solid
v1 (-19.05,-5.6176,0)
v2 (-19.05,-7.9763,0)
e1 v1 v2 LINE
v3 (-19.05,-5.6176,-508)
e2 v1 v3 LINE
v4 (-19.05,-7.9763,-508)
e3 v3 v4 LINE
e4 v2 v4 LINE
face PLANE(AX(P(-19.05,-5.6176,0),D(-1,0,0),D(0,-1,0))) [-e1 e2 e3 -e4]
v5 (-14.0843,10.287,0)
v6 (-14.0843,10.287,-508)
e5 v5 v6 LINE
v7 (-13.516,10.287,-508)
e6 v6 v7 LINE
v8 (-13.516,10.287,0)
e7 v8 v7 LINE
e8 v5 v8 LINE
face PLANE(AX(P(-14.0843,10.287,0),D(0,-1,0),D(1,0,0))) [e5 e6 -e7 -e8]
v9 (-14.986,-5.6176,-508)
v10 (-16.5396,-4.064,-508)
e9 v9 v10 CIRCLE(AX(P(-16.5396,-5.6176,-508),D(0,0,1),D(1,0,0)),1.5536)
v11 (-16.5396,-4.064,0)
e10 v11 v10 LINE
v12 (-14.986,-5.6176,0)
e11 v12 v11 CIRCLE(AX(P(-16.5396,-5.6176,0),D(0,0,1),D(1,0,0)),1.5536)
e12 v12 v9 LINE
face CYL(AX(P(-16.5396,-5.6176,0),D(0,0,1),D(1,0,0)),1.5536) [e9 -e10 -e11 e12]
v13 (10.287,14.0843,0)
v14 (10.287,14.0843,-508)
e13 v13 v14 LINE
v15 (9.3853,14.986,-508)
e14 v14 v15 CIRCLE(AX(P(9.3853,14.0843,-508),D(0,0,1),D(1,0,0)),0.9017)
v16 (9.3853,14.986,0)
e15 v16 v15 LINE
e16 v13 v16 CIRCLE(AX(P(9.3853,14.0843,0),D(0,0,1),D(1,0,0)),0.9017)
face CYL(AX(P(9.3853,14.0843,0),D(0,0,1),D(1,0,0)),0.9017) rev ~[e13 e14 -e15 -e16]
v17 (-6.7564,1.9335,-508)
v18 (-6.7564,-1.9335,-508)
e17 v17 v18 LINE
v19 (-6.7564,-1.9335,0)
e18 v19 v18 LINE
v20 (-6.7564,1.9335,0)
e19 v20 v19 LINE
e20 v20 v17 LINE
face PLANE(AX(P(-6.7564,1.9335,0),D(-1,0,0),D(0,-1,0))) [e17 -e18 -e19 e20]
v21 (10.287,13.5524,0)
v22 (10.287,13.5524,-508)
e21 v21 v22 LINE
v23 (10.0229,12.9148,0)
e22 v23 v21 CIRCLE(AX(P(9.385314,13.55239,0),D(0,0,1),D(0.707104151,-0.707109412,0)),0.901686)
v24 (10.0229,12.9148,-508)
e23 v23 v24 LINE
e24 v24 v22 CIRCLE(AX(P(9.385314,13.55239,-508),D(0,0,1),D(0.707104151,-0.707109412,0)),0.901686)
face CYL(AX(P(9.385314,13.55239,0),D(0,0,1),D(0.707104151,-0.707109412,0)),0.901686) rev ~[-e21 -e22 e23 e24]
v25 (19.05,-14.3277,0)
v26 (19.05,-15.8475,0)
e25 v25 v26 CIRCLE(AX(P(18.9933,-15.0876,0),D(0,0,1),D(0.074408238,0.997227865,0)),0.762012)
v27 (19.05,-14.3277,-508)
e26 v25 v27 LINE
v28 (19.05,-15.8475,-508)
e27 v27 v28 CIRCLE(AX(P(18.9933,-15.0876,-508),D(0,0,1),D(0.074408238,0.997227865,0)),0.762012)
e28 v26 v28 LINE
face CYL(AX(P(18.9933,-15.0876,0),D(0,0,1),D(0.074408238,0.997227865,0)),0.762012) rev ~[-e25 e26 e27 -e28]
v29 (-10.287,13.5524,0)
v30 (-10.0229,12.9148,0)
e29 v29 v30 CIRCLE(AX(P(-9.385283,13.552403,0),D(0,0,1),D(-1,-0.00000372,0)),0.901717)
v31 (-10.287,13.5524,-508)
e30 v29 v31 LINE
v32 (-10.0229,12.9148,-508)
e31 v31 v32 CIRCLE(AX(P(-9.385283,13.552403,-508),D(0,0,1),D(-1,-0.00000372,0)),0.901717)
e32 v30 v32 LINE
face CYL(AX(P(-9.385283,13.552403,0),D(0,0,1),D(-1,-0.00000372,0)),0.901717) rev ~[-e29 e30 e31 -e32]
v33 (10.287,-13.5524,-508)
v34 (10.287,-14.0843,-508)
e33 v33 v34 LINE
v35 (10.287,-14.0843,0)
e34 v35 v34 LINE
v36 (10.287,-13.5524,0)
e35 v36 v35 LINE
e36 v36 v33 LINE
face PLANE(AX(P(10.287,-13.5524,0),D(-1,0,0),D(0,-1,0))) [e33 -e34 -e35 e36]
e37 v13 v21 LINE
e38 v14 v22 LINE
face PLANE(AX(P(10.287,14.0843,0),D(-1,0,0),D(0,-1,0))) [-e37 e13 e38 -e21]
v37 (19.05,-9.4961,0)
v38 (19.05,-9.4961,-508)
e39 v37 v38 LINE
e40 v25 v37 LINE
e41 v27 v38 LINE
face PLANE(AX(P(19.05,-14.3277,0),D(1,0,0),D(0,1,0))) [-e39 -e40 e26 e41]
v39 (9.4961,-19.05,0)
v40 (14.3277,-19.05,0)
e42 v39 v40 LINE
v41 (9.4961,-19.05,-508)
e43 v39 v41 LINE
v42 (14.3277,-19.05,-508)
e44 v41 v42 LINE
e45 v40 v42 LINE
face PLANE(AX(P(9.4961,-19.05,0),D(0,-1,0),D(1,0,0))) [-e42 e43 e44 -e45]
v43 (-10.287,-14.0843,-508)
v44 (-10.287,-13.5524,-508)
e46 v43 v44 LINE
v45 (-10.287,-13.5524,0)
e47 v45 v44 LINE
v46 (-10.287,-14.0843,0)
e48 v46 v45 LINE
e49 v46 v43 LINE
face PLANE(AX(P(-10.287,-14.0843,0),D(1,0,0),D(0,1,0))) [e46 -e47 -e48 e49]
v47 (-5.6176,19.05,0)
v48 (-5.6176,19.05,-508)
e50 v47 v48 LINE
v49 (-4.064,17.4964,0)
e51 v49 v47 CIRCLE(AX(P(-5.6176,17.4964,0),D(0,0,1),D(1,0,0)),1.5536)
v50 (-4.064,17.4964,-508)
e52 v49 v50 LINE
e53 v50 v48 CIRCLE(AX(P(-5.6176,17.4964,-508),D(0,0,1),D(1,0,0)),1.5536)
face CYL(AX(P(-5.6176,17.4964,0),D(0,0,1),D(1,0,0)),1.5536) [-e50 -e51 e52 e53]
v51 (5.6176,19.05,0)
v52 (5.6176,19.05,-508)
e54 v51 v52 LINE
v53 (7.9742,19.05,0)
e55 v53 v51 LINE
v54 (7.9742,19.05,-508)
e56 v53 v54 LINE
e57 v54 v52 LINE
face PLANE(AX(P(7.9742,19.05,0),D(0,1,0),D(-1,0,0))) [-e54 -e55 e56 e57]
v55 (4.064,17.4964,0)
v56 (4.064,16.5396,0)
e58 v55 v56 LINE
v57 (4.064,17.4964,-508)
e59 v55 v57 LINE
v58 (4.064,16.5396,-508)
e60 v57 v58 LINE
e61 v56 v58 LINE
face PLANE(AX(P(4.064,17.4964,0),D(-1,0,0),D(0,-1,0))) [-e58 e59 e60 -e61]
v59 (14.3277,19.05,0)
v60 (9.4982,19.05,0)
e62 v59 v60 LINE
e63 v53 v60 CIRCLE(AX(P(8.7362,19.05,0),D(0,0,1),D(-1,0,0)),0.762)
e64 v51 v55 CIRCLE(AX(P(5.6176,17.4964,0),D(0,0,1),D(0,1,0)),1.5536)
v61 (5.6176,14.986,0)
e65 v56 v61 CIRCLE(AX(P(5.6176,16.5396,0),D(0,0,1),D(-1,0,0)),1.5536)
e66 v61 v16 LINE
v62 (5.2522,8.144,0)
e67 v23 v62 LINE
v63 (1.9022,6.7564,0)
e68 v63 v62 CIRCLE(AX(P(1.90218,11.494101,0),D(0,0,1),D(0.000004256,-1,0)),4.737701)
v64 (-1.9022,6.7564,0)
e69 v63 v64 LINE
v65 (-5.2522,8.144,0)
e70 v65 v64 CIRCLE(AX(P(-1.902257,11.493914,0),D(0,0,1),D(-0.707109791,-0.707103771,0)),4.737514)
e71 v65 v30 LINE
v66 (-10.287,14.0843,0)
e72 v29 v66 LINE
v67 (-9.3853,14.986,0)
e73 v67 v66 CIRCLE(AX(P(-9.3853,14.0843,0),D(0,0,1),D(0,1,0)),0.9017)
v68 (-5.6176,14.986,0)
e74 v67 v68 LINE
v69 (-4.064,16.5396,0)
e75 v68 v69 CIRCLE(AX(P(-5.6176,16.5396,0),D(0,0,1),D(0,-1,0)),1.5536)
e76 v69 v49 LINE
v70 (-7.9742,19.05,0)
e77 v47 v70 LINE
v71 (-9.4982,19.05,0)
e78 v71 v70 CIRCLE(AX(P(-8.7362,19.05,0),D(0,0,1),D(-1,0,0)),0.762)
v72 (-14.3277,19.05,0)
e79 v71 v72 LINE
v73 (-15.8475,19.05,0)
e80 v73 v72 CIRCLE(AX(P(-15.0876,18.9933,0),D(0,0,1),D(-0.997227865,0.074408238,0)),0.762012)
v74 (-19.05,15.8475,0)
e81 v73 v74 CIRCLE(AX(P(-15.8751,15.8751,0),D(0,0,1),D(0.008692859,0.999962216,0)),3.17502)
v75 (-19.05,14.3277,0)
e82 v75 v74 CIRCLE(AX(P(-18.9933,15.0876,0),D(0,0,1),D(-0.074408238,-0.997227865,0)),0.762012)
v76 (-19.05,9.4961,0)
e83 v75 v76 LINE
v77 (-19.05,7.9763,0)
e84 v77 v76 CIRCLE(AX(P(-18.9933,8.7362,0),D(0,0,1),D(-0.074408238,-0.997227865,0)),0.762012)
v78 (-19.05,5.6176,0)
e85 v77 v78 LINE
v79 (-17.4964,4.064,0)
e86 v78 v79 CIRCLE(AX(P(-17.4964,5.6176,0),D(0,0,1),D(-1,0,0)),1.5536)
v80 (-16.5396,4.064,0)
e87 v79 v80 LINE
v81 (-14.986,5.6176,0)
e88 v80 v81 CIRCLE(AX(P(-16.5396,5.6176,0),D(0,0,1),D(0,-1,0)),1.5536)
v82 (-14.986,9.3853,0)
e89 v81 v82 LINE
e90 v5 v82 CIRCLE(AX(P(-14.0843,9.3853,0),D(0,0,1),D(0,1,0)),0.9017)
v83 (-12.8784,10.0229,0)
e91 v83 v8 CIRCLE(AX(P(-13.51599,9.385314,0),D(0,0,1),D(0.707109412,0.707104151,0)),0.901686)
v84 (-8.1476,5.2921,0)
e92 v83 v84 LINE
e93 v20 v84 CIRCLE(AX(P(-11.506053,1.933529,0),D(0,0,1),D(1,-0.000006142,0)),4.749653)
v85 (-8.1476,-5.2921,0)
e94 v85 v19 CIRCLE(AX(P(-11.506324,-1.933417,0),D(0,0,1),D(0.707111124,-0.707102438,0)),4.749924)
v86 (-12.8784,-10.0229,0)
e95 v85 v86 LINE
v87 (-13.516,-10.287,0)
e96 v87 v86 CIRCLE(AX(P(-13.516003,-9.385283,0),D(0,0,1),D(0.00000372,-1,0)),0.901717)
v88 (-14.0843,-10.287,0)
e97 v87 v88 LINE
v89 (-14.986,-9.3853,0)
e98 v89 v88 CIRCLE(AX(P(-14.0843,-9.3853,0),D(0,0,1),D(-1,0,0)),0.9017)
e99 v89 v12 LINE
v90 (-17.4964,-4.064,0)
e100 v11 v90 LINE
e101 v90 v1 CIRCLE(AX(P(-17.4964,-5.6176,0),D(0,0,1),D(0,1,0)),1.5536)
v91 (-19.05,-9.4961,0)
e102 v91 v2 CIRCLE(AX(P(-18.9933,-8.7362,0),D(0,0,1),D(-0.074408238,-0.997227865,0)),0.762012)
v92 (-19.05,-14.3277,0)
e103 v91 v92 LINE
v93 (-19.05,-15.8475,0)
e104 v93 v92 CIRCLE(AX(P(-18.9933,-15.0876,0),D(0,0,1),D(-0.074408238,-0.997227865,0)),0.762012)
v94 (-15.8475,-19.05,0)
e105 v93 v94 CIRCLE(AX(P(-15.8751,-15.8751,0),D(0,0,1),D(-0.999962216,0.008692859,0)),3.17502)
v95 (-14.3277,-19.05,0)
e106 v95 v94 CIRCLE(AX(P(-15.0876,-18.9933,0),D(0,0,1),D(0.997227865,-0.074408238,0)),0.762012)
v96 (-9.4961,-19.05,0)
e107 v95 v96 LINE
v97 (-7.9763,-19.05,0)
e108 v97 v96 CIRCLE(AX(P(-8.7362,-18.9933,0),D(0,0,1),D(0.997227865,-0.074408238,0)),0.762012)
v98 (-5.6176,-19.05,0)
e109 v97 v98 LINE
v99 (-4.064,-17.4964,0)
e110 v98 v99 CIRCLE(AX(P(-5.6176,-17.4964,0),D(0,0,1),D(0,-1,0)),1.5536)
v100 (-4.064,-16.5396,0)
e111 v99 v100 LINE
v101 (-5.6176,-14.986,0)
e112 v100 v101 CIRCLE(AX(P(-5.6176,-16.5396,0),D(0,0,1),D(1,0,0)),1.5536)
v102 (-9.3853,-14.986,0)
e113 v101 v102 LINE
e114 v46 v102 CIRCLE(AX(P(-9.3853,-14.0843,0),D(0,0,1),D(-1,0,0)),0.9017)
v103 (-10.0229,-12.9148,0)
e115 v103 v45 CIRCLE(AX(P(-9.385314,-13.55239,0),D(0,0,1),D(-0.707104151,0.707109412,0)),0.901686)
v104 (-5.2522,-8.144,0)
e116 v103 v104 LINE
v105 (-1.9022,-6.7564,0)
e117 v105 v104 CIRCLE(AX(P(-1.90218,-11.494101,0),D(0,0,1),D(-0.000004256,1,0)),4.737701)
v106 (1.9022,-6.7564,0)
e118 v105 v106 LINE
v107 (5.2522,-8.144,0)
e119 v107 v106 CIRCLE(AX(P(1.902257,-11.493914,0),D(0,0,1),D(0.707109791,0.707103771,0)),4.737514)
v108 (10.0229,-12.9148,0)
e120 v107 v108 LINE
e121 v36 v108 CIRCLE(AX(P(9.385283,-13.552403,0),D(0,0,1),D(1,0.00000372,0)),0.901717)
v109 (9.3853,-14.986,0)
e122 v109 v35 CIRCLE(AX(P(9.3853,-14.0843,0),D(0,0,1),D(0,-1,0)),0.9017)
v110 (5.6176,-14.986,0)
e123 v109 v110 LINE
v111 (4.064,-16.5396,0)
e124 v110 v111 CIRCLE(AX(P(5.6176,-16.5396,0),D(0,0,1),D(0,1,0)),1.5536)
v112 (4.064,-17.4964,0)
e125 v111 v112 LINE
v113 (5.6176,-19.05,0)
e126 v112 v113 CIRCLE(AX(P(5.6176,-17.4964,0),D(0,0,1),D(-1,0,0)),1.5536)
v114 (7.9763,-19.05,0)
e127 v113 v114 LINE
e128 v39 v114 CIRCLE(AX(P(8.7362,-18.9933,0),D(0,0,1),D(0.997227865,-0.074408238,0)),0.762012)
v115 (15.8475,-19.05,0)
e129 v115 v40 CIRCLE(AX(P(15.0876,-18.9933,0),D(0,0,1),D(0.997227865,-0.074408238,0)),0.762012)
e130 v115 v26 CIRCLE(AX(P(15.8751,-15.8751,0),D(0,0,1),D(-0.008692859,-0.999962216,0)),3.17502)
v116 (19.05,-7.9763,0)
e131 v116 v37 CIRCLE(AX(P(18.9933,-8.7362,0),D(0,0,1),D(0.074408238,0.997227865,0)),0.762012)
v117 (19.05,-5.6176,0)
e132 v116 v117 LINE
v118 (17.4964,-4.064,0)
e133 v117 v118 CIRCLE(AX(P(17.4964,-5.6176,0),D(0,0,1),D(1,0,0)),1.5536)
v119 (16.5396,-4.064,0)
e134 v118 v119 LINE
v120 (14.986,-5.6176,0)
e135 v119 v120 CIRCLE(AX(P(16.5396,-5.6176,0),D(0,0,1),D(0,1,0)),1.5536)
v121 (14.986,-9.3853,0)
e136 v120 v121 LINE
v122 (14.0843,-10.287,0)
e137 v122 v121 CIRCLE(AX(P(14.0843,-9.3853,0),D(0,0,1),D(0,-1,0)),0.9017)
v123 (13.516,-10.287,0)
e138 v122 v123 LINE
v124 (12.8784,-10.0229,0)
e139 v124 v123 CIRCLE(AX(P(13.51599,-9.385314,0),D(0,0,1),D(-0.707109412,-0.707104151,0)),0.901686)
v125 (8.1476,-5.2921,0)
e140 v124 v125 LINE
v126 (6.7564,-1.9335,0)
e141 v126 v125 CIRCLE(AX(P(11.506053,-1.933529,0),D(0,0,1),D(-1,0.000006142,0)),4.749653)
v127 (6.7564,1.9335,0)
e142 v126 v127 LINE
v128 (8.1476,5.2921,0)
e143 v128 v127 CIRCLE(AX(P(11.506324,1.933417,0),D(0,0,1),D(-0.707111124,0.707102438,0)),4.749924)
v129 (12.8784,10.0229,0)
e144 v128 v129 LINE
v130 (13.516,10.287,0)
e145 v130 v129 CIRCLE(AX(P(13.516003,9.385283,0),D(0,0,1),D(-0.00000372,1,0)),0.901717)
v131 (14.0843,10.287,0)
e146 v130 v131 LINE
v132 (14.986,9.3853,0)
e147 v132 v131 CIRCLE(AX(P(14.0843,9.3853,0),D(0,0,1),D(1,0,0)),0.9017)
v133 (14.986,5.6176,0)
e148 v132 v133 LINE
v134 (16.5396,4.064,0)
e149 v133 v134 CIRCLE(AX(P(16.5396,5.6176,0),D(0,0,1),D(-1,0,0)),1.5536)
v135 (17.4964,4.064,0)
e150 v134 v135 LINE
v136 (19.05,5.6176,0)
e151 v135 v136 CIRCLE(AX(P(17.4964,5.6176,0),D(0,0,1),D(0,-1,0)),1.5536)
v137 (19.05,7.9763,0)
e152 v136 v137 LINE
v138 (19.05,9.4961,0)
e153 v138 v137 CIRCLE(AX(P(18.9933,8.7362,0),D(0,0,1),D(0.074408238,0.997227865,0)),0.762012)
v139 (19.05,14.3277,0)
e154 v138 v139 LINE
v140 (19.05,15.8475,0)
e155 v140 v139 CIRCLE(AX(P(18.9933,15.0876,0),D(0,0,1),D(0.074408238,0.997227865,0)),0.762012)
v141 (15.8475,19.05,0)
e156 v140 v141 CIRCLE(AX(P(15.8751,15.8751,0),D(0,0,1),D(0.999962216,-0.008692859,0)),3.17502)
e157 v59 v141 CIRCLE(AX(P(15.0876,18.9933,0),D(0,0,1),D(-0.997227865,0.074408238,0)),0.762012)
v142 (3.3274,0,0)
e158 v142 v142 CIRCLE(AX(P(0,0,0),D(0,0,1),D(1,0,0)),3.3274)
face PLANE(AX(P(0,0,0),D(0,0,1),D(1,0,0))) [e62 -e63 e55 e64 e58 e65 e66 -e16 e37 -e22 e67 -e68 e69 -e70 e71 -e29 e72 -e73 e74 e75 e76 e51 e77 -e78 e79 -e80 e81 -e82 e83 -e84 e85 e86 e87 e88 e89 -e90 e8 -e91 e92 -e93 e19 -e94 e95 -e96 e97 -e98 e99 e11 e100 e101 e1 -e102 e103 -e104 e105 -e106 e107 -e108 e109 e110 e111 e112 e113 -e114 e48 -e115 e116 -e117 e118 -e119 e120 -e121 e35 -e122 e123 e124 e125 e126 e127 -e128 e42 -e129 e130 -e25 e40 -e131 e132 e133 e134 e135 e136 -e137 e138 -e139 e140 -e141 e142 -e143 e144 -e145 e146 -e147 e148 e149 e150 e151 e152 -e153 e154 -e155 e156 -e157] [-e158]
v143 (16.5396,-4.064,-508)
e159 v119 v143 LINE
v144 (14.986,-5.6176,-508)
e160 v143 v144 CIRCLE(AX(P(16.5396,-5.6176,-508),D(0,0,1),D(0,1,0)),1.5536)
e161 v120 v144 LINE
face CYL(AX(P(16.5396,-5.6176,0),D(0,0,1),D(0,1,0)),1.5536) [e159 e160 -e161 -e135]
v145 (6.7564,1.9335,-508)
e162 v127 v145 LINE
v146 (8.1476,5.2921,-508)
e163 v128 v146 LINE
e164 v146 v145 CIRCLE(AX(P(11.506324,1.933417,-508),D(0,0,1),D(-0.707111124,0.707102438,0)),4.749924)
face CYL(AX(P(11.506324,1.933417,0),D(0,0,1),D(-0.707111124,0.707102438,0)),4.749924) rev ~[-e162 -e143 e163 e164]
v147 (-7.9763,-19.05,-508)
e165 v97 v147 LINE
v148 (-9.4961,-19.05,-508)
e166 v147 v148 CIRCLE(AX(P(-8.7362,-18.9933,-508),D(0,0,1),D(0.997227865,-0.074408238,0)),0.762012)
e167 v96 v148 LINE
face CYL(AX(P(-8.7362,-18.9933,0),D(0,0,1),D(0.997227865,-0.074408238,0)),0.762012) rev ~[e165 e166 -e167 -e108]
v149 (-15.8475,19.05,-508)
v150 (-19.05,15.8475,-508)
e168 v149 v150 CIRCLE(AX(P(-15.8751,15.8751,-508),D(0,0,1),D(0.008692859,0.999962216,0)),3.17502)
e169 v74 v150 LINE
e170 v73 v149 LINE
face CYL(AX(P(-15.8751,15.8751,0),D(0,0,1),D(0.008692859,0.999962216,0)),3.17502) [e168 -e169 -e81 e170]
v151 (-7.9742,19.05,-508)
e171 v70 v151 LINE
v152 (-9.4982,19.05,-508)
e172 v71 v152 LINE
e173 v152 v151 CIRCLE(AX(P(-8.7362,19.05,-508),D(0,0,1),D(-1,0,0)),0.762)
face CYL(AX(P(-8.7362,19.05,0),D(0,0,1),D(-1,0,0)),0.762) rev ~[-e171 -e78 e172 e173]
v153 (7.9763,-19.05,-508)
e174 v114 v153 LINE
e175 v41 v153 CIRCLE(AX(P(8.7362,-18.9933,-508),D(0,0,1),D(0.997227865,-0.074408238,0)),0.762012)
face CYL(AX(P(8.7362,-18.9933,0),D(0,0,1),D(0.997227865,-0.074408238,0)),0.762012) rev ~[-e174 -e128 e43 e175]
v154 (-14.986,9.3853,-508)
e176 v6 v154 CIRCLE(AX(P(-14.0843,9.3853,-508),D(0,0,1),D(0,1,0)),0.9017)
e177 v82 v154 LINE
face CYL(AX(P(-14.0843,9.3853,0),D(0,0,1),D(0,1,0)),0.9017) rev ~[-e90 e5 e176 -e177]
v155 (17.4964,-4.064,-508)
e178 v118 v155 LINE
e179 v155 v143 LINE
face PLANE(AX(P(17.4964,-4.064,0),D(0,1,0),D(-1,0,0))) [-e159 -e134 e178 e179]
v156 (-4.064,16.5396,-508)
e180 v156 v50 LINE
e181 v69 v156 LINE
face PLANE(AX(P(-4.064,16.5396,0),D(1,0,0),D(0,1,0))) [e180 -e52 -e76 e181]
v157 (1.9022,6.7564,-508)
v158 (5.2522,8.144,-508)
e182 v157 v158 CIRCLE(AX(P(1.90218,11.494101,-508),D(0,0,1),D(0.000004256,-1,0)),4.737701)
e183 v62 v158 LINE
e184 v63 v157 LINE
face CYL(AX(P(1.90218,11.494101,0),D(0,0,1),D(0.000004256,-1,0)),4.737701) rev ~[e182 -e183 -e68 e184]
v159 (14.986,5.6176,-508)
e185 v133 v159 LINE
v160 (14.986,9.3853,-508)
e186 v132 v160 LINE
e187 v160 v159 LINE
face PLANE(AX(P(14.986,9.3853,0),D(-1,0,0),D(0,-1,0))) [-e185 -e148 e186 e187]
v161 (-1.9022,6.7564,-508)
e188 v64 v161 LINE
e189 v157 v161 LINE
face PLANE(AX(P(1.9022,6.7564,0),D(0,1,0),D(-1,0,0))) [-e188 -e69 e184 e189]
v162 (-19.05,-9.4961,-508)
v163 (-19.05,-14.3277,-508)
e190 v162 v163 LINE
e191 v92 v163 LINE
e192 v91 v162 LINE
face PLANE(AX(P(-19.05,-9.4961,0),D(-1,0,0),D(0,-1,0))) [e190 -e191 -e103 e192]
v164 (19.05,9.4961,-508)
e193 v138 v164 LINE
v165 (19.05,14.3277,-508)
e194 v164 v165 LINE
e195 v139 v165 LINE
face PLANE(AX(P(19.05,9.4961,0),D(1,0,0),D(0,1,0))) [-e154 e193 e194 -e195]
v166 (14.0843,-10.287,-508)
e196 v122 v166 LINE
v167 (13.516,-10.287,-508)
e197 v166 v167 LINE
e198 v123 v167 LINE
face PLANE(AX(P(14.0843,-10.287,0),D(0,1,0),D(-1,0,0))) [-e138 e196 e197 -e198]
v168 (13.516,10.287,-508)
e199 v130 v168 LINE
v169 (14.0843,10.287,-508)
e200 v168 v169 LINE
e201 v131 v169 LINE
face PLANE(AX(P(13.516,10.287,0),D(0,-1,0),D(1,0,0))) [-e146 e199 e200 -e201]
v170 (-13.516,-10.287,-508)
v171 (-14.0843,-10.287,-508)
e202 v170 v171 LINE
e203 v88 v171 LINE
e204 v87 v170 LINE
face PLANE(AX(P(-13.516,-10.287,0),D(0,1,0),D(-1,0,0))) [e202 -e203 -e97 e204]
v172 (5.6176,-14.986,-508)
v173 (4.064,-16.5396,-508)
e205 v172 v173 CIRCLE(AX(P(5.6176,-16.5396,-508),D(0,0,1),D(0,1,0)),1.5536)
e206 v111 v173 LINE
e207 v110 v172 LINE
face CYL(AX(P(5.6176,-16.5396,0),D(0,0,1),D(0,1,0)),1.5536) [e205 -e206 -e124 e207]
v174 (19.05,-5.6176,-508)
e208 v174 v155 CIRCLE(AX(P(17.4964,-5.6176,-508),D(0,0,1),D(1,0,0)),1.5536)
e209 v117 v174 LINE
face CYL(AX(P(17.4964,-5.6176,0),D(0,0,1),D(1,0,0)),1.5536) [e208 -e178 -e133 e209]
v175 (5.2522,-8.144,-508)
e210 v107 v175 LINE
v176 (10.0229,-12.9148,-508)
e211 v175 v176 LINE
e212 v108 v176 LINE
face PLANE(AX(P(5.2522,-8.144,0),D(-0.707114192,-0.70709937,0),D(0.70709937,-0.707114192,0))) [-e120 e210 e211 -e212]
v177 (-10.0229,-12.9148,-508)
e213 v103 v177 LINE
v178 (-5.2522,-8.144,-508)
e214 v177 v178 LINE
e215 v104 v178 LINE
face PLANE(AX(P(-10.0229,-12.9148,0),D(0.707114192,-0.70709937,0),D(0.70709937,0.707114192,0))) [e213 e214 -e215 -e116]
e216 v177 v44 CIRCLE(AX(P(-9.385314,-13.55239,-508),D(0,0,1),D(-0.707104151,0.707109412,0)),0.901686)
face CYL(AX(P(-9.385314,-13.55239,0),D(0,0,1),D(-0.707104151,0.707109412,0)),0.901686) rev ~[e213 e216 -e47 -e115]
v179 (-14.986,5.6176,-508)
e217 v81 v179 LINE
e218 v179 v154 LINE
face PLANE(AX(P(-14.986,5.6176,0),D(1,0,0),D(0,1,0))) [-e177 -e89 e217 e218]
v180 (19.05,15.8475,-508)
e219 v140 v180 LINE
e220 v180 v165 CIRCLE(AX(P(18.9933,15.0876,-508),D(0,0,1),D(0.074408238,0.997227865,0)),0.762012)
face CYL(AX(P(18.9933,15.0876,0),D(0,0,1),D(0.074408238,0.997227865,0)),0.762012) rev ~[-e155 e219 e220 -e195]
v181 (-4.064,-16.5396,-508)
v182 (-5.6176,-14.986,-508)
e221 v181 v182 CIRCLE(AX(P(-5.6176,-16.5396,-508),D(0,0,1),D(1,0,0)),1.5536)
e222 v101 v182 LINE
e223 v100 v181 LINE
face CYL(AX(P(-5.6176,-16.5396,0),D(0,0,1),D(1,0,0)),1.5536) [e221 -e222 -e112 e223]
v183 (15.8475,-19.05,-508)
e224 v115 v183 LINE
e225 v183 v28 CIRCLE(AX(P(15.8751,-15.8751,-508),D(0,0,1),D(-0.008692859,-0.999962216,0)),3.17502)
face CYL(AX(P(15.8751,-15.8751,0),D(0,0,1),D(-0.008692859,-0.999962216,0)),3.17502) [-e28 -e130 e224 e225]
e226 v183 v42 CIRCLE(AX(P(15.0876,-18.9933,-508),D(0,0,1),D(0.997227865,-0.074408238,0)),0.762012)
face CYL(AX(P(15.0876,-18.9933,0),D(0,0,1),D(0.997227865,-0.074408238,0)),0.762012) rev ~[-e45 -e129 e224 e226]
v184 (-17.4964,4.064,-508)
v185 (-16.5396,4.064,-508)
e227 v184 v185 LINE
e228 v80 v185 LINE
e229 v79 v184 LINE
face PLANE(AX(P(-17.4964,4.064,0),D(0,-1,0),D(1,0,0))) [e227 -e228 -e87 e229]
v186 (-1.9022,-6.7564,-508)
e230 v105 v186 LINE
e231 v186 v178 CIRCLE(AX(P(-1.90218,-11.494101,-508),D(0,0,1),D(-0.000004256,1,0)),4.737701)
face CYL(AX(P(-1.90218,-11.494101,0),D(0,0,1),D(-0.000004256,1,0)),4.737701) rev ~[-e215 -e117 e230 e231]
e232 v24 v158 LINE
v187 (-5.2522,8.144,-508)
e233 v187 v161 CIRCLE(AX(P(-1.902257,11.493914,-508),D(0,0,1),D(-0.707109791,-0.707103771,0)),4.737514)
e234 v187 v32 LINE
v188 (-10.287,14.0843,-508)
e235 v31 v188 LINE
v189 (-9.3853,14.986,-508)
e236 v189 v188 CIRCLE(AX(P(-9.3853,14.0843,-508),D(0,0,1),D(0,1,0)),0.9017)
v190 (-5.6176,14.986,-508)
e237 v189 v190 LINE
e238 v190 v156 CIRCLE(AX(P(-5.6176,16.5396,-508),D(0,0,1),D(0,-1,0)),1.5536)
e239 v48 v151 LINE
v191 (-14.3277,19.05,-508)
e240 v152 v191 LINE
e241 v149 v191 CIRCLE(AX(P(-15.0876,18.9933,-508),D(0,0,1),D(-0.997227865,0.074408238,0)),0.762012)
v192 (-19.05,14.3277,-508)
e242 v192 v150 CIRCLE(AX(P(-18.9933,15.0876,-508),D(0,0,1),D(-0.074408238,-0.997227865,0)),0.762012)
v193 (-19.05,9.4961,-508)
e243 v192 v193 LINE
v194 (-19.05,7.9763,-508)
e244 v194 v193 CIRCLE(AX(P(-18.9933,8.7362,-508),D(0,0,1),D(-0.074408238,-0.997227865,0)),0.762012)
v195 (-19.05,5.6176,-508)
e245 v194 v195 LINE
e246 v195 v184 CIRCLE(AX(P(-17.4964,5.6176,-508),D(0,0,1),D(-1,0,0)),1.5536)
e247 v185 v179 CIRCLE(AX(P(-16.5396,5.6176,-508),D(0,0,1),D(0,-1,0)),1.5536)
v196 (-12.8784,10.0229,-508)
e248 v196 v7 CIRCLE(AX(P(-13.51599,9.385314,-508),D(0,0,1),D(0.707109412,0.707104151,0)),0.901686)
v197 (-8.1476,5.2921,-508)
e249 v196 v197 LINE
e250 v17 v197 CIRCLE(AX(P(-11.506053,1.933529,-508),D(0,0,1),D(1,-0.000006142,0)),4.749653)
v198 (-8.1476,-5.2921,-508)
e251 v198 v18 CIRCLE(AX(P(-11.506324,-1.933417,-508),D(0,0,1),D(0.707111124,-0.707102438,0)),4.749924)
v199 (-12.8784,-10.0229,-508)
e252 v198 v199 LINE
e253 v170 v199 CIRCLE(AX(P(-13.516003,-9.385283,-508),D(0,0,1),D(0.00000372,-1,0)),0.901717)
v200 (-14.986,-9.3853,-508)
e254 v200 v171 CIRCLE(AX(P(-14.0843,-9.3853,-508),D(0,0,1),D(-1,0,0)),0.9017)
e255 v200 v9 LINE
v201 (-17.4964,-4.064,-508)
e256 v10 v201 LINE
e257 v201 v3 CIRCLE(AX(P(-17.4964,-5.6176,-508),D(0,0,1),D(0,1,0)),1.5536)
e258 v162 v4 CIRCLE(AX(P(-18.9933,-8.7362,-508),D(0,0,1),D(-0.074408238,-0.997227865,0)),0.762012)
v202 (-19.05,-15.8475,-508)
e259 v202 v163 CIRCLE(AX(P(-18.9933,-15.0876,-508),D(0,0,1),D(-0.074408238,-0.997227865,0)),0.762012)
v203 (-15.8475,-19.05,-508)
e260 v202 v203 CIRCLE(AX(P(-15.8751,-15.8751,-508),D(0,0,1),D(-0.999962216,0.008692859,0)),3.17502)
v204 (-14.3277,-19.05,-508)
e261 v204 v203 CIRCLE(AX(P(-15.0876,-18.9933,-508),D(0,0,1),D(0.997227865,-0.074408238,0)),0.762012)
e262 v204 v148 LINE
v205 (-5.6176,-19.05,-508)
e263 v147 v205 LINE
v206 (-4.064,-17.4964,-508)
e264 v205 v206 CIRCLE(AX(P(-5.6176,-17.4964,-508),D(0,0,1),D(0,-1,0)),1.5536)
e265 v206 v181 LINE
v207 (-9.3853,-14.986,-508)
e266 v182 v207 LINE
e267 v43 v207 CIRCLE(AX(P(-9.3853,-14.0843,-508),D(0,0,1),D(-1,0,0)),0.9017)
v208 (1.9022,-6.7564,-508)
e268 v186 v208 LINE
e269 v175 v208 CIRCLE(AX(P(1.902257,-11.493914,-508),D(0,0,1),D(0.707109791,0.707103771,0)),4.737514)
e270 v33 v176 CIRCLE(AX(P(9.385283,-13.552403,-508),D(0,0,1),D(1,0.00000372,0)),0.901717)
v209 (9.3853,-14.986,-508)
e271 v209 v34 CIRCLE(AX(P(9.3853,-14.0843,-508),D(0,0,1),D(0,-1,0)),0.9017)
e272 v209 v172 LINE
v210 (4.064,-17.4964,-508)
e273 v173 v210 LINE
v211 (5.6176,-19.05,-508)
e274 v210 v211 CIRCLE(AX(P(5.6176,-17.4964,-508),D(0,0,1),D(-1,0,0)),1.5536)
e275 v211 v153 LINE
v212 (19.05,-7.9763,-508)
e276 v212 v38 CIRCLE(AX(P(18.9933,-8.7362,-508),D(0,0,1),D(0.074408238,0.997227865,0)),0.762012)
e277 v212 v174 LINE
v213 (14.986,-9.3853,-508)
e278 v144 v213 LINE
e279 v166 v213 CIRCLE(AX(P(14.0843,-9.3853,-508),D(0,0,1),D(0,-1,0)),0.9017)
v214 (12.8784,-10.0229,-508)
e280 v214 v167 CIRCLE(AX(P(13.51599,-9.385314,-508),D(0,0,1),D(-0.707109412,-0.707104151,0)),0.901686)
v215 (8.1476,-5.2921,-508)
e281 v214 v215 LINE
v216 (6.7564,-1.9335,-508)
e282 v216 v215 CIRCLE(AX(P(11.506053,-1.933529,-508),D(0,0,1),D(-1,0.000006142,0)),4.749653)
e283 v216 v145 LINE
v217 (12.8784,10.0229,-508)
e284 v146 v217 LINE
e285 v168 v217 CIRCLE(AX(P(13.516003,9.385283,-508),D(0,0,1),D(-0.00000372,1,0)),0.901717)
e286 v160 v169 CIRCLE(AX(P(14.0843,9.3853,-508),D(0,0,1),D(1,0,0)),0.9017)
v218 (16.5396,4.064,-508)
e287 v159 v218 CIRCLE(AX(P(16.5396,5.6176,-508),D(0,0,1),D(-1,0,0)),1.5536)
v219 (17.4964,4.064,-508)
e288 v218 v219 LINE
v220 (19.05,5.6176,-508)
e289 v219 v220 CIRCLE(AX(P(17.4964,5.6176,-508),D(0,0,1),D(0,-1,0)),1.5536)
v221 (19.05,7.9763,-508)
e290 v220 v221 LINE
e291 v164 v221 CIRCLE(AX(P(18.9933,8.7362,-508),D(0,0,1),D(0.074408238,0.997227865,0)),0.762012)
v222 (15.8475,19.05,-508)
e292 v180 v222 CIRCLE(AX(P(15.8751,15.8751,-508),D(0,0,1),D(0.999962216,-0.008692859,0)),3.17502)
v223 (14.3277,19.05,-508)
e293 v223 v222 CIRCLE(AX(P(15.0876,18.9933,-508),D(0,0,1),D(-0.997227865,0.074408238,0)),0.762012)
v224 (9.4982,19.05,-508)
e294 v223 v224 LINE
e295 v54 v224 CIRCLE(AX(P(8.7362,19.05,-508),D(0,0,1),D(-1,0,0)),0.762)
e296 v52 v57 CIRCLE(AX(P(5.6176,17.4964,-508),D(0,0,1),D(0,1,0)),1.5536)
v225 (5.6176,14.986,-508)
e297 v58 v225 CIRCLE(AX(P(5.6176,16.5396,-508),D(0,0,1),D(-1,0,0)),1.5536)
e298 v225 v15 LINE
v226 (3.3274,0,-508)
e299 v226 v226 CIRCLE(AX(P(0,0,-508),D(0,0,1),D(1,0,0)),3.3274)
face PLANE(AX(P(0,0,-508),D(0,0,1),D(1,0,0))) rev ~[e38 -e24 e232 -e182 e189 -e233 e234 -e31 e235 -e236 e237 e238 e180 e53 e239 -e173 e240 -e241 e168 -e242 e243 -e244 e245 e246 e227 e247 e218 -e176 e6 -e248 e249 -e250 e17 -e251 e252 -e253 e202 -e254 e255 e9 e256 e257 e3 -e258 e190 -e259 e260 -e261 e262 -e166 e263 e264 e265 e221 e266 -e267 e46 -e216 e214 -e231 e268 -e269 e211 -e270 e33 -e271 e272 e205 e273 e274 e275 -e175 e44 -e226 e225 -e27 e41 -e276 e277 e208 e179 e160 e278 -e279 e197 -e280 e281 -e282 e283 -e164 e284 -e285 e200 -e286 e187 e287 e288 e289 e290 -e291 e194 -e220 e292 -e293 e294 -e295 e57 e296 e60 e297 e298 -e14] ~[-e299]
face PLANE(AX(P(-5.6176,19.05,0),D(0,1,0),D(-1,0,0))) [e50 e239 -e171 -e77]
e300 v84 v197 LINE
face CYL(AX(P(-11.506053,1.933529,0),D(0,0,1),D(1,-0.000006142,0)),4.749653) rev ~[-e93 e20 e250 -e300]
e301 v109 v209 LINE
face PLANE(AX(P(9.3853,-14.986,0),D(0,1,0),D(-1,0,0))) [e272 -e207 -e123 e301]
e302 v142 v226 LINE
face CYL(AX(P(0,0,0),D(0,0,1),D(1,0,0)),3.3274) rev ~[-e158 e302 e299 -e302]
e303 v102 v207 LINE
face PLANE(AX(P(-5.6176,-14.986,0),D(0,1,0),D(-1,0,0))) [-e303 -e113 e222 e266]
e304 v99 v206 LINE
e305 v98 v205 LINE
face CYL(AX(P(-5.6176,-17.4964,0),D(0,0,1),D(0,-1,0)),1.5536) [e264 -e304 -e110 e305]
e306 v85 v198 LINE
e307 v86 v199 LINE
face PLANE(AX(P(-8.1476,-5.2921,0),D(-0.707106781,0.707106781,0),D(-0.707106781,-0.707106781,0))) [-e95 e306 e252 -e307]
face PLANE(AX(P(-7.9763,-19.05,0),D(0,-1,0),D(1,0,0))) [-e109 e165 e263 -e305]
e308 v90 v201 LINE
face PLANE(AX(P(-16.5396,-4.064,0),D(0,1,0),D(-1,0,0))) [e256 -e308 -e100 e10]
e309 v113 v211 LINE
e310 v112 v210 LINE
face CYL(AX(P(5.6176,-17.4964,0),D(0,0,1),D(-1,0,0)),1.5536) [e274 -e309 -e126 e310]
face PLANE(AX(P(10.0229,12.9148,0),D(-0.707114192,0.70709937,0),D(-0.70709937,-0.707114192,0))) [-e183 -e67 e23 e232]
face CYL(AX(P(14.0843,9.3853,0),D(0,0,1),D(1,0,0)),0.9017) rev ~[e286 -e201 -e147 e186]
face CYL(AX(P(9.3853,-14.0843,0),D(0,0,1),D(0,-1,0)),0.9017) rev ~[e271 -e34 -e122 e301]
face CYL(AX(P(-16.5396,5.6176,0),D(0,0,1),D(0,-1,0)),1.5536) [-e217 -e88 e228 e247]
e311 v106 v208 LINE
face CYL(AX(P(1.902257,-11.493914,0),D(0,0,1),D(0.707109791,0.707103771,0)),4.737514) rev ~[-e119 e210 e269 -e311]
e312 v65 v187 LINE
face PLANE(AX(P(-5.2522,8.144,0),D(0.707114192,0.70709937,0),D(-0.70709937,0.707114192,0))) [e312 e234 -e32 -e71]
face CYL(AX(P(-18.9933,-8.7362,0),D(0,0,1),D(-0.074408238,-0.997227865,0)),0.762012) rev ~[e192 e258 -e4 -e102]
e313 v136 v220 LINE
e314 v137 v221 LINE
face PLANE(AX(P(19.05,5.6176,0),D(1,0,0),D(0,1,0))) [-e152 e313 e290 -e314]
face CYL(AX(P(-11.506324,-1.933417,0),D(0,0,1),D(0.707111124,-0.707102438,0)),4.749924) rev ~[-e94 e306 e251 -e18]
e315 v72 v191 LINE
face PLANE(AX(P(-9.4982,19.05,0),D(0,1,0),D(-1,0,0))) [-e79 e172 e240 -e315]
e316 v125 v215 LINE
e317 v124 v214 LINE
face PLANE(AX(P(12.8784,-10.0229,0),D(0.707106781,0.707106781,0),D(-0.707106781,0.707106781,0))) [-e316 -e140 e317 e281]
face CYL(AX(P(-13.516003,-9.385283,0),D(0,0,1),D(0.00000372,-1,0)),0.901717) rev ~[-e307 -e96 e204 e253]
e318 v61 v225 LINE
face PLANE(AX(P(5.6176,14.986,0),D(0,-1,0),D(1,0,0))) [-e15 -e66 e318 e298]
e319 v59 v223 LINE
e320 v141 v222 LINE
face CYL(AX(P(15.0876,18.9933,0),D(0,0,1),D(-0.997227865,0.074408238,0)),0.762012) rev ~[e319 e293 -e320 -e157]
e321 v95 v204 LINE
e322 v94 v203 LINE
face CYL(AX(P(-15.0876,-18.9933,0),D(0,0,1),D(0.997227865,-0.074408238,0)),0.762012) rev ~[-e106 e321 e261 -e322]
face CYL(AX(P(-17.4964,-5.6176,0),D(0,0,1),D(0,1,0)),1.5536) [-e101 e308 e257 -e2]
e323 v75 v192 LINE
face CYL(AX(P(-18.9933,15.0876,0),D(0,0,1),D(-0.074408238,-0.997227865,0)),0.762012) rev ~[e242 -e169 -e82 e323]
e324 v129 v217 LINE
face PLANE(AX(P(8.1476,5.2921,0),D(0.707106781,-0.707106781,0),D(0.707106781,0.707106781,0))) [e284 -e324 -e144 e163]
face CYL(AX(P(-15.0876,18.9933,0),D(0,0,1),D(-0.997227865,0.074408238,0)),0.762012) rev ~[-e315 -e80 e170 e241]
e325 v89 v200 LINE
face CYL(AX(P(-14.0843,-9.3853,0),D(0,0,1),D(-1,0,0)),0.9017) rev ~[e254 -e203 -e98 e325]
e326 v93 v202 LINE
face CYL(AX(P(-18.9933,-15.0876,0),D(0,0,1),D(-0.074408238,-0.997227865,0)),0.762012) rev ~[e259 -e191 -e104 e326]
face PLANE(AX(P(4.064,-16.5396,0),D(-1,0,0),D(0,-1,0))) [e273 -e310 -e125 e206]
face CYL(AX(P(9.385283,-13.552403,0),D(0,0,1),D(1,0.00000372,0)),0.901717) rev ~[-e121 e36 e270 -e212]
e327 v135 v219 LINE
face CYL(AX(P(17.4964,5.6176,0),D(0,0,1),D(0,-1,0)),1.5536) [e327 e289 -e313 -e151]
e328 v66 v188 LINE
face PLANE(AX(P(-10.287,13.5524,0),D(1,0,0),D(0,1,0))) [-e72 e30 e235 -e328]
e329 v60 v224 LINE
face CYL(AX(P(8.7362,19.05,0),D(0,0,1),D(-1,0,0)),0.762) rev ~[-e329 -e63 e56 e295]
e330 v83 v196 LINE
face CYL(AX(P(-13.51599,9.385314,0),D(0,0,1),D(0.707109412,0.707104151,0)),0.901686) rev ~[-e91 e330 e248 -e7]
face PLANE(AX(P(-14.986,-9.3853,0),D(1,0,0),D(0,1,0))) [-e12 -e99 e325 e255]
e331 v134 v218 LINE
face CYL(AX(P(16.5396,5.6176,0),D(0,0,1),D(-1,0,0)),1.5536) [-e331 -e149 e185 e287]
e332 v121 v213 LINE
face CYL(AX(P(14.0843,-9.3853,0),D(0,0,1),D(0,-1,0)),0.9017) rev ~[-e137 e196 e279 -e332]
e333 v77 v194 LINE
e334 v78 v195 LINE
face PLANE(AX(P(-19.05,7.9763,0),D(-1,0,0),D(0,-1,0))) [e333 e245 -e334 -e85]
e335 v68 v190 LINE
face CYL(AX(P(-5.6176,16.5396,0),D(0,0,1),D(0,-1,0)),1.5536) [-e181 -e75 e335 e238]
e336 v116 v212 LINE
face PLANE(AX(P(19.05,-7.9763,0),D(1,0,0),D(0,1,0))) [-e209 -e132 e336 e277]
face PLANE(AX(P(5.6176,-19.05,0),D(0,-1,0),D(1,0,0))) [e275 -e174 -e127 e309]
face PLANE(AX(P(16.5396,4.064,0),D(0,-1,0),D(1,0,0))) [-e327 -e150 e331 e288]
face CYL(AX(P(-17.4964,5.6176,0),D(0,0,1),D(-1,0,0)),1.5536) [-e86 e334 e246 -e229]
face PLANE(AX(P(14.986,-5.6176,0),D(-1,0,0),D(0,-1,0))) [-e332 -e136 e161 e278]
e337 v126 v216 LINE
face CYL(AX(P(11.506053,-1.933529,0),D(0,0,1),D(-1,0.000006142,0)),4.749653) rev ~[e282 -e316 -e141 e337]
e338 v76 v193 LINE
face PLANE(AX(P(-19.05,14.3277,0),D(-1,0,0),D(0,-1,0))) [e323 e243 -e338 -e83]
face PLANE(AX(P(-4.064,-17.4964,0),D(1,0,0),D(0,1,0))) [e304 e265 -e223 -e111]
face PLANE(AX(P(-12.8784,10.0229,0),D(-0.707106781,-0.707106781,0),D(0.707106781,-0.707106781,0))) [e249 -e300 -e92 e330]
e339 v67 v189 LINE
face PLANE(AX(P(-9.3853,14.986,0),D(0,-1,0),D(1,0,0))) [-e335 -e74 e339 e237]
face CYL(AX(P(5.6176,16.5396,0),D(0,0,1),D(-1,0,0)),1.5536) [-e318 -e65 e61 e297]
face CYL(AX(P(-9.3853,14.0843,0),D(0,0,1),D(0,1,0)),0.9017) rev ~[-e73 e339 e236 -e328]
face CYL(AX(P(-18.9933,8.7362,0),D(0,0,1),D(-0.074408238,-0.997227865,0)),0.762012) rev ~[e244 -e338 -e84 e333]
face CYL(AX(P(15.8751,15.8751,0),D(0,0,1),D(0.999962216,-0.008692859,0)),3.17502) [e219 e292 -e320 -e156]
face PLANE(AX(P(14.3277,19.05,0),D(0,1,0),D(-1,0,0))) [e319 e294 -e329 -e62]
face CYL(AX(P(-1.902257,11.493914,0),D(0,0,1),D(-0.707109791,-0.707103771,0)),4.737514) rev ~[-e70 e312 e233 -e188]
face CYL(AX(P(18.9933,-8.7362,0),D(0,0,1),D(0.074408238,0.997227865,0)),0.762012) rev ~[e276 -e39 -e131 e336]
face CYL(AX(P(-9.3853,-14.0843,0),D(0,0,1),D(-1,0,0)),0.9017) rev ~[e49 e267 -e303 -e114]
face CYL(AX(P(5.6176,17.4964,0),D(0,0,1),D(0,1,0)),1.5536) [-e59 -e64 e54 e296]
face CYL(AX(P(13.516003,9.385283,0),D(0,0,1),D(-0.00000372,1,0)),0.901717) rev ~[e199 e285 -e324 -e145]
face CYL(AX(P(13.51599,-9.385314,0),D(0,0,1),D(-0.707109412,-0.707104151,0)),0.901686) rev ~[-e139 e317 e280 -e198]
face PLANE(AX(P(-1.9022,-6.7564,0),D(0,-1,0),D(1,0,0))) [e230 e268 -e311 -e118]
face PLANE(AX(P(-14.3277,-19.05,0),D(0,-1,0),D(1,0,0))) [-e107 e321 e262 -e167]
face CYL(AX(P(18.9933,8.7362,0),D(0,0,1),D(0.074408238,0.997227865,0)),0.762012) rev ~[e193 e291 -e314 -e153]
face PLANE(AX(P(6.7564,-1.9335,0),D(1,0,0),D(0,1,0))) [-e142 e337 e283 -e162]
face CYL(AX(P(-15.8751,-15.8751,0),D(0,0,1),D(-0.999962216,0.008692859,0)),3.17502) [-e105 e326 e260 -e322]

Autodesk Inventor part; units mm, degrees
sketch "Sketch_1" plane through (0, 0, 0) normal (0, 0, 1) x (1, 0, 0)
  arc A0 (-15.8475, 19.05) -> (-19.05, 15.8475) centre (-15.8751, 15.8751) ccw
  arc A1 (-19.05, 14.3277) -> (-19.05, 15.8475) centre (-18.9933, 15.0876) ccw
  line L0 (-19.05, 14.3277) -> (-19.05, 9.4961)
  arc A2 (-19.05, 7.9763) -> (-19.05, 9.4961) centre (-18.9933, 8.7362) ccw
  line L1 (-19.05, 7.9763) -> (-19.05, 5.6176)
  arc A3 (-19.05, 5.6176) -> (-17.4964, 4.064) centre (-17.4964, 5.6176) ccw
  line L2 (-17.4964, 4.064) -> (-16.5396, 4.064)
  arc A4 (-16.5396, 4.064) -> (-14.986, 5.6176) centre (-16.5396, 5.6176) ccw
  line L3 (-14.986, 5.6176) -> (-14.986, 9.3853)
  arc A5 (-14.0843, 10.287) -> (-14.986, 9.3853) centre (-14.0843, 9.3853) ccw
  line L4 (-14.0843, 10.287) -> (-13.516, 10.287)
  arc A6 (-12.8784, 10.0229) -> (-13.516, 10.287) centre (-13.516, 9.3853) ccw
  line L5 (-12.8784, 10.0229) -> (-8.1476, 5.2921)
  arc A7 (-6.7564, 1.9335) -> (-8.1476, 5.2921) centre (-11.5062, 1.9335) ccw
  line L6 (-6.7564, 1.9335) -> (-6.7564, -1.9335)
  arc A8 (-8.1476, -5.2921) -> (-6.7564, -1.9335) centre (-11.5062, -1.9335) ccw
  line L7 (-8.1476, -5.2921) -> (-12.8784, -10.0229)
  arc A9 (-13.516, -10.287) -> (-12.8784, -10.0229) centre (-13.516, -9.3853) ccw
  line L8 (-13.516, -10.287) -> (-14.0843, -10.287)
  arc A10 (-14.986, -9.3853) -> (-14.0843, -10.287) centre (-14.0843, -9.3853) ccw
  line L9 (-14.986, -9.3853) -> (-14.986, -5.6176)
  arc A11 (-14.986, -5.6176) -> (-16.5396, -4.064) centre (-16.5396, -5.6176) ccw
  line L10 (-16.5396, -4.064) -> (-17.4964, -4.064)
  arc A12 (-17.4964, -4.064) -> (-19.05, -5.6176) centre (-17.4964, -5.6176) ccw
  line L11 (-19.05, -5.6176) -> (-19.05, -7.9763)
  arc A13 (-19.05, -9.4961) -> (-19.05, -7.9763) centre (-18.9933, -8.7362) ccw
  line L12 (-19.05, -9.4961) -> (-19.05, -14.3277)
  arc A14 (-19.05, -15.8475) -> (-19.05, -14.3277) centre (-18.9933, -15.0876) ccw
  arc A15 (-19.05, -15.8475) -> (-15.8475, -19.05) centre (-15.8751, -15.8751) ccw
  arc A16 (-14.3277, -19.05) -> (-15.8475, -19.05) centre (-15.0876, -18.9933) ccw
  line L13 (-14.3277, -19.05) -> (-9.4961, -19.05)
  arc A17 (-7.9763, -19.05) -> (-9.4961, -19.05) centre (-8.7362, -18.9933) ccw
  line L14 (-7.9763, -19.05) -> (-5.6176, -19.05)
  arc A18 (-5.6176, -19.05) -> (-4.064, -17.4964) centre (-5.6176, -17.4964) ccw
  line L15 (-4.064, -17.4964) -> (-4.064, -16.5396)
  arc A19 (-4.064, -16.5396) -> (-5.6176, -14.986) centre (-5.6176, -16.5396) ccw
  line L16 (-5.6176, -14.986) -> (-9.3853, -14.986)
  arc A20 (-10.287, -14.0843) -> (-9.3853, -14.986) centre (-9.3853, -14.0843) ccw
  line L17 (-10.287, -14.0843) -> (-10.287, -13.5524)
  arc A21 (-10.0229, -12.9148) -> (-10.287, -13.5524) centre (-9.3853, -13.5524) ccw
  line L18 (-10.0229, -12.9148) -> (-5.2522, -8.144)
  arc A22 (-1.9022, -6.7564) -> (-5.2522, -8.144) centre (-1.9022, -11.494) ccw
  line L19 (-1.9022, -6.7564) -> (1.9022, -6.7564)
  arc A23 (5.2522, -8.144) -> (1.9022, -6.7564) centre (1.9022, -11.494) ccw
  line L20 (5.2522, -8.144) -> (10.0229, -12.9148)
  arc A24 (10.287, -13.5524) -> (10.0229, -12.9148) centre (9.3853, -13.5524) ccw
  line L21 (10.287, -13.5524) -> (10.287, -14.0843)
  arc A25 (9.3853, -14.986) -> (10.287, -14.0843) centre (9.3853, -14.0843) ccw
  line L22 (9.3853, -14.986) -> (5.6176, -14.986)
  arc A26 (5.6176, -14.986) -> (4.064, -16.5396) centre (5.6176, -16.5396) ccw
  line L23 (4.064, -16.5396) -> (4.064, -17.4964)
  arc A27 (4.064, -17.4964) -> (5.6176, -19.05) centre (5.6176, -17.4964) ccw
  line L24 (5.6176, -19.05) -> (7.9763, -19.05)
  arc A28 (9.4961, -19.05) -> (7.9763, -19.05) centre (8.7362, -18.9933) ccw
  line L25 (9.4961, -19.05) -> (14.3277, -19.05)
  arc A29 (15.8475, -19.05) -> (14.3277, -19.05) centre (15.0876, -18.9933) ccw
  arc A30 (15.8475, -19.05) -> (19.05, -15.8475) centre (15.8751, -15.8751) ccw
  arc A31 (19.05, -14.3277) -> (19.05, -15.8475) centre (18.9933, -15.0876) ccw
  line L26 (19.05, -14.3277) -> (19.05, -9.4961)
  arc A32 (19.05, -7.9763) -> (19.05, -9.4961) centre (18.9933, -8.7362) ccw
  line L27 (19.05, -7.9763) -> (19.05, -5.6176)
  arc A33 (19.05, -5.6176) -> (17.4964, -4.064) centre (17.4964, -5.6176) ccw
  line L28 (17.4964, -4.064) -> (16.5396, -4.064)
  arc A34 (16.5396, -4.064) -> (14.986, -5.6176) centre (16.5396, -5.6176) ccw
  line L29 (14.986, -5.6176) -> (14.986, -9.3853)
  arc A35 (14.0843, -10.287) -> (14.986, -9.3853) centre (14.0843, -9.3853) ccw
  line L30 (14.0843, -10.287) -> (13.516, -10.287)
  arc A36 (12.8784, -10.0229) -> (13.516, -10.287) centre (13.516, -9.3853) ccw
  line L31 (12.8784, -10.0229) -> (8.1476, -5.2921)
  arc A37 (6.7564, -1.9335) -> (8.1476, -5.2921) centre (11.5062, -1.9335) ccw
  line L32 (6.7564, -1.9335) -> (6.7564, 1.9335)
  arc A38 (8.1476, 5.2921) -> (6.7564, 1.9335) centre (11.5062, 1.9335) ccw
  line L33 (8.1476, 5.2921) -> (12.8784, 10.0229)
  arc A39 (13.516, 10.287) -> (12.8784, 10.0229) centre (13.516, 9.3853) ccw
  line L34 (13.516, 10.287) -> (14.0843, 10.287)
  arc A40 (14.986, 9.3853) -> (14.0843, 10.287) centre (14.0843, 9.3853) ccw
  line L35 (14.986, 9.3853) -> (14.986, 5.6176)
  arc A41 (14.986, 5.6176) -> (16.5396, 4.064) centre (16.5396, 5.6176) ccw
  line L36 (16.5396, 4.064) -> (17.4964, 4.064)
  arc A42 (17.4964, 4.064) -> (19.05, 5.6176) centre (17.4964, 5.6176) ccw
  line L37 (19.05, 5.6176) -> (19.05, 7.9763)
  arc A43 (19.05, 9.4961) -> (19.05, 7.9763) centre (18.9933, 8.7362) ccw
  line L38 (19.05, 9.4961) -> (19.05, 14.3277)
  arc A44 (19.05, 15.8475) -> (19.05, 14.3277) centre (18.9933, 15.0876) ccw
  arc A45 (19.05, 15.8475) -> (15.8475, 19.05) centre (15.8751, 15.8751) ccw
  arc A46 (14.3277, 19.05) -> (15.8475, 19.05) centre (15.0876, 18.9933) ccw
  line L39 (14.3277, 19.05) -> (9.4982, 19.05)
  arc A47 (7.9742, 19.05) -> (9.4982, 19.05) centre (8.7362, 19.05) ccw
  line L40 (7.9742, 19.05) -> (5.6176, 19.05)
  arc A48 (5.6176, 19.05) -> (4.064, 17.4964) centre (5.6176, 17.4964) ccw
  line L41 (4.064, 17.4964) -> (4.064, 16.5396)
  arc A49 (4.064, 16.5396) -> (5.6176, 14.986) centre (5.6176, 16.5396) ccw
  line L42 (5.6176, 14.986) -> (9.3853, 14.986)
  arc A50 (10.287, 14.0843) -> (9.3853, 14.986) centre (9.3853, 14.0843) ccw
  line L43 (10.287, 14.0843) -> (10.287, 13.5524)
  arc A51 (10.0229, 12.9148) -> (10.287, 13.5524) centre (9.3853, 13.5524) ccw
  line L44 (10.0229, 12.9148) -> (5.2522, 8.144)
  arc A52 (1.9022, 6.7564) -> (5.2522, 8.144) centre (1.9022, 11.494) ccw
  line L45 (1.9022, 6.7564) -> (-1.9022, 6.7564)
  arc A53 (-5.2522, 8.144) -> (-1.9022, 6.7564) centre (-1.9022, 11.494) ccw
  line L46 (-5.2522, 8.144) -> (-10.0229, 12.9148)
  arc A54 (-10.287, 13.5524) -> (-10.0229, 12.9148) centre (-9.3853, 13.5524) ccw
  line L47 (-10.287, 13.5524) -> (-10.287, 14.0843)
  arc A55 (-9.3853, 14.986) -> (-10.287, 14.0843) centre (-9.3853, 14.0843) ccw
  line L48 (-9.3853, 14.986) -> (-5.6176, 14.986)
  arc A56 (-5.6176, 14.986) -> (-4.064, 16.5396) centre (-5.6176, 16.5396) ccw
  line L49 (-4.064, 16.5396) -> (-4.064, 17.4964)
  arc A57 (-4.064, 17.4964) -> (-5.6176, 19.05) centre (-5.6176, 17.4964) ccw
  line L50 (-5.6176, 19.05) -> (-7.9742, 19.05)
  arc A58 (-9.4982, 19.05) -> (-7.9742, 19.05) centre (-8.7362, 19.05) ccw
  line L51 (-9.4982, 19.05) -> (-14.3277, 19.05)
  arc A59 (-15.8475, 19.05) -> (-14.3277, 19.05) centre (-15.0876, 18.9933) ccw
  circle A60 centre (0, 0) radius 3.3274
extrude "Extrusion1" add sketch "Sketch_1" against normal blind 508
ref_plane "b1_XY" through (-19.05, 0, -25.4) normal (1, 0, 0) x (0, 0, -1)
ref_plane "b1_YZ" through (-19.05, 0, -25.4) normal (0, 0, -1) x (0, 1, 0)
ref_plane "b1_ZX" through (-19.05, 0, -25.4) normal (0, 1, 0) x (1, 0, 0)
ref_plane "b2_XY" through (19.05, 0, -25.4) normal (1, 0, 0) x (0, 0, -1)
ref_plane "b2_YZ" through (19.05, 0, -25.4) normal (0, 0, -1) x (0, 1, 0)
ref_plane "b2_ZX" through (19.05, 0, -25.4) normal (0, 1, 0) x (1, 0, 0)
ref_plane "profile1515_XY" through (0, 0, -25.4) normal (0, 0, 1) x (1, 0, 0)
ref_plane "profile1515_YZ" through (0, 0, -25.4) normal (1, 0, 0) x (0, 1, 0)
ref_plane "profile1515_ZX" through (0, 0, -25.4) normal (0, 1, 0) x (0, 0, 1)
properties part number "Frame Short"
